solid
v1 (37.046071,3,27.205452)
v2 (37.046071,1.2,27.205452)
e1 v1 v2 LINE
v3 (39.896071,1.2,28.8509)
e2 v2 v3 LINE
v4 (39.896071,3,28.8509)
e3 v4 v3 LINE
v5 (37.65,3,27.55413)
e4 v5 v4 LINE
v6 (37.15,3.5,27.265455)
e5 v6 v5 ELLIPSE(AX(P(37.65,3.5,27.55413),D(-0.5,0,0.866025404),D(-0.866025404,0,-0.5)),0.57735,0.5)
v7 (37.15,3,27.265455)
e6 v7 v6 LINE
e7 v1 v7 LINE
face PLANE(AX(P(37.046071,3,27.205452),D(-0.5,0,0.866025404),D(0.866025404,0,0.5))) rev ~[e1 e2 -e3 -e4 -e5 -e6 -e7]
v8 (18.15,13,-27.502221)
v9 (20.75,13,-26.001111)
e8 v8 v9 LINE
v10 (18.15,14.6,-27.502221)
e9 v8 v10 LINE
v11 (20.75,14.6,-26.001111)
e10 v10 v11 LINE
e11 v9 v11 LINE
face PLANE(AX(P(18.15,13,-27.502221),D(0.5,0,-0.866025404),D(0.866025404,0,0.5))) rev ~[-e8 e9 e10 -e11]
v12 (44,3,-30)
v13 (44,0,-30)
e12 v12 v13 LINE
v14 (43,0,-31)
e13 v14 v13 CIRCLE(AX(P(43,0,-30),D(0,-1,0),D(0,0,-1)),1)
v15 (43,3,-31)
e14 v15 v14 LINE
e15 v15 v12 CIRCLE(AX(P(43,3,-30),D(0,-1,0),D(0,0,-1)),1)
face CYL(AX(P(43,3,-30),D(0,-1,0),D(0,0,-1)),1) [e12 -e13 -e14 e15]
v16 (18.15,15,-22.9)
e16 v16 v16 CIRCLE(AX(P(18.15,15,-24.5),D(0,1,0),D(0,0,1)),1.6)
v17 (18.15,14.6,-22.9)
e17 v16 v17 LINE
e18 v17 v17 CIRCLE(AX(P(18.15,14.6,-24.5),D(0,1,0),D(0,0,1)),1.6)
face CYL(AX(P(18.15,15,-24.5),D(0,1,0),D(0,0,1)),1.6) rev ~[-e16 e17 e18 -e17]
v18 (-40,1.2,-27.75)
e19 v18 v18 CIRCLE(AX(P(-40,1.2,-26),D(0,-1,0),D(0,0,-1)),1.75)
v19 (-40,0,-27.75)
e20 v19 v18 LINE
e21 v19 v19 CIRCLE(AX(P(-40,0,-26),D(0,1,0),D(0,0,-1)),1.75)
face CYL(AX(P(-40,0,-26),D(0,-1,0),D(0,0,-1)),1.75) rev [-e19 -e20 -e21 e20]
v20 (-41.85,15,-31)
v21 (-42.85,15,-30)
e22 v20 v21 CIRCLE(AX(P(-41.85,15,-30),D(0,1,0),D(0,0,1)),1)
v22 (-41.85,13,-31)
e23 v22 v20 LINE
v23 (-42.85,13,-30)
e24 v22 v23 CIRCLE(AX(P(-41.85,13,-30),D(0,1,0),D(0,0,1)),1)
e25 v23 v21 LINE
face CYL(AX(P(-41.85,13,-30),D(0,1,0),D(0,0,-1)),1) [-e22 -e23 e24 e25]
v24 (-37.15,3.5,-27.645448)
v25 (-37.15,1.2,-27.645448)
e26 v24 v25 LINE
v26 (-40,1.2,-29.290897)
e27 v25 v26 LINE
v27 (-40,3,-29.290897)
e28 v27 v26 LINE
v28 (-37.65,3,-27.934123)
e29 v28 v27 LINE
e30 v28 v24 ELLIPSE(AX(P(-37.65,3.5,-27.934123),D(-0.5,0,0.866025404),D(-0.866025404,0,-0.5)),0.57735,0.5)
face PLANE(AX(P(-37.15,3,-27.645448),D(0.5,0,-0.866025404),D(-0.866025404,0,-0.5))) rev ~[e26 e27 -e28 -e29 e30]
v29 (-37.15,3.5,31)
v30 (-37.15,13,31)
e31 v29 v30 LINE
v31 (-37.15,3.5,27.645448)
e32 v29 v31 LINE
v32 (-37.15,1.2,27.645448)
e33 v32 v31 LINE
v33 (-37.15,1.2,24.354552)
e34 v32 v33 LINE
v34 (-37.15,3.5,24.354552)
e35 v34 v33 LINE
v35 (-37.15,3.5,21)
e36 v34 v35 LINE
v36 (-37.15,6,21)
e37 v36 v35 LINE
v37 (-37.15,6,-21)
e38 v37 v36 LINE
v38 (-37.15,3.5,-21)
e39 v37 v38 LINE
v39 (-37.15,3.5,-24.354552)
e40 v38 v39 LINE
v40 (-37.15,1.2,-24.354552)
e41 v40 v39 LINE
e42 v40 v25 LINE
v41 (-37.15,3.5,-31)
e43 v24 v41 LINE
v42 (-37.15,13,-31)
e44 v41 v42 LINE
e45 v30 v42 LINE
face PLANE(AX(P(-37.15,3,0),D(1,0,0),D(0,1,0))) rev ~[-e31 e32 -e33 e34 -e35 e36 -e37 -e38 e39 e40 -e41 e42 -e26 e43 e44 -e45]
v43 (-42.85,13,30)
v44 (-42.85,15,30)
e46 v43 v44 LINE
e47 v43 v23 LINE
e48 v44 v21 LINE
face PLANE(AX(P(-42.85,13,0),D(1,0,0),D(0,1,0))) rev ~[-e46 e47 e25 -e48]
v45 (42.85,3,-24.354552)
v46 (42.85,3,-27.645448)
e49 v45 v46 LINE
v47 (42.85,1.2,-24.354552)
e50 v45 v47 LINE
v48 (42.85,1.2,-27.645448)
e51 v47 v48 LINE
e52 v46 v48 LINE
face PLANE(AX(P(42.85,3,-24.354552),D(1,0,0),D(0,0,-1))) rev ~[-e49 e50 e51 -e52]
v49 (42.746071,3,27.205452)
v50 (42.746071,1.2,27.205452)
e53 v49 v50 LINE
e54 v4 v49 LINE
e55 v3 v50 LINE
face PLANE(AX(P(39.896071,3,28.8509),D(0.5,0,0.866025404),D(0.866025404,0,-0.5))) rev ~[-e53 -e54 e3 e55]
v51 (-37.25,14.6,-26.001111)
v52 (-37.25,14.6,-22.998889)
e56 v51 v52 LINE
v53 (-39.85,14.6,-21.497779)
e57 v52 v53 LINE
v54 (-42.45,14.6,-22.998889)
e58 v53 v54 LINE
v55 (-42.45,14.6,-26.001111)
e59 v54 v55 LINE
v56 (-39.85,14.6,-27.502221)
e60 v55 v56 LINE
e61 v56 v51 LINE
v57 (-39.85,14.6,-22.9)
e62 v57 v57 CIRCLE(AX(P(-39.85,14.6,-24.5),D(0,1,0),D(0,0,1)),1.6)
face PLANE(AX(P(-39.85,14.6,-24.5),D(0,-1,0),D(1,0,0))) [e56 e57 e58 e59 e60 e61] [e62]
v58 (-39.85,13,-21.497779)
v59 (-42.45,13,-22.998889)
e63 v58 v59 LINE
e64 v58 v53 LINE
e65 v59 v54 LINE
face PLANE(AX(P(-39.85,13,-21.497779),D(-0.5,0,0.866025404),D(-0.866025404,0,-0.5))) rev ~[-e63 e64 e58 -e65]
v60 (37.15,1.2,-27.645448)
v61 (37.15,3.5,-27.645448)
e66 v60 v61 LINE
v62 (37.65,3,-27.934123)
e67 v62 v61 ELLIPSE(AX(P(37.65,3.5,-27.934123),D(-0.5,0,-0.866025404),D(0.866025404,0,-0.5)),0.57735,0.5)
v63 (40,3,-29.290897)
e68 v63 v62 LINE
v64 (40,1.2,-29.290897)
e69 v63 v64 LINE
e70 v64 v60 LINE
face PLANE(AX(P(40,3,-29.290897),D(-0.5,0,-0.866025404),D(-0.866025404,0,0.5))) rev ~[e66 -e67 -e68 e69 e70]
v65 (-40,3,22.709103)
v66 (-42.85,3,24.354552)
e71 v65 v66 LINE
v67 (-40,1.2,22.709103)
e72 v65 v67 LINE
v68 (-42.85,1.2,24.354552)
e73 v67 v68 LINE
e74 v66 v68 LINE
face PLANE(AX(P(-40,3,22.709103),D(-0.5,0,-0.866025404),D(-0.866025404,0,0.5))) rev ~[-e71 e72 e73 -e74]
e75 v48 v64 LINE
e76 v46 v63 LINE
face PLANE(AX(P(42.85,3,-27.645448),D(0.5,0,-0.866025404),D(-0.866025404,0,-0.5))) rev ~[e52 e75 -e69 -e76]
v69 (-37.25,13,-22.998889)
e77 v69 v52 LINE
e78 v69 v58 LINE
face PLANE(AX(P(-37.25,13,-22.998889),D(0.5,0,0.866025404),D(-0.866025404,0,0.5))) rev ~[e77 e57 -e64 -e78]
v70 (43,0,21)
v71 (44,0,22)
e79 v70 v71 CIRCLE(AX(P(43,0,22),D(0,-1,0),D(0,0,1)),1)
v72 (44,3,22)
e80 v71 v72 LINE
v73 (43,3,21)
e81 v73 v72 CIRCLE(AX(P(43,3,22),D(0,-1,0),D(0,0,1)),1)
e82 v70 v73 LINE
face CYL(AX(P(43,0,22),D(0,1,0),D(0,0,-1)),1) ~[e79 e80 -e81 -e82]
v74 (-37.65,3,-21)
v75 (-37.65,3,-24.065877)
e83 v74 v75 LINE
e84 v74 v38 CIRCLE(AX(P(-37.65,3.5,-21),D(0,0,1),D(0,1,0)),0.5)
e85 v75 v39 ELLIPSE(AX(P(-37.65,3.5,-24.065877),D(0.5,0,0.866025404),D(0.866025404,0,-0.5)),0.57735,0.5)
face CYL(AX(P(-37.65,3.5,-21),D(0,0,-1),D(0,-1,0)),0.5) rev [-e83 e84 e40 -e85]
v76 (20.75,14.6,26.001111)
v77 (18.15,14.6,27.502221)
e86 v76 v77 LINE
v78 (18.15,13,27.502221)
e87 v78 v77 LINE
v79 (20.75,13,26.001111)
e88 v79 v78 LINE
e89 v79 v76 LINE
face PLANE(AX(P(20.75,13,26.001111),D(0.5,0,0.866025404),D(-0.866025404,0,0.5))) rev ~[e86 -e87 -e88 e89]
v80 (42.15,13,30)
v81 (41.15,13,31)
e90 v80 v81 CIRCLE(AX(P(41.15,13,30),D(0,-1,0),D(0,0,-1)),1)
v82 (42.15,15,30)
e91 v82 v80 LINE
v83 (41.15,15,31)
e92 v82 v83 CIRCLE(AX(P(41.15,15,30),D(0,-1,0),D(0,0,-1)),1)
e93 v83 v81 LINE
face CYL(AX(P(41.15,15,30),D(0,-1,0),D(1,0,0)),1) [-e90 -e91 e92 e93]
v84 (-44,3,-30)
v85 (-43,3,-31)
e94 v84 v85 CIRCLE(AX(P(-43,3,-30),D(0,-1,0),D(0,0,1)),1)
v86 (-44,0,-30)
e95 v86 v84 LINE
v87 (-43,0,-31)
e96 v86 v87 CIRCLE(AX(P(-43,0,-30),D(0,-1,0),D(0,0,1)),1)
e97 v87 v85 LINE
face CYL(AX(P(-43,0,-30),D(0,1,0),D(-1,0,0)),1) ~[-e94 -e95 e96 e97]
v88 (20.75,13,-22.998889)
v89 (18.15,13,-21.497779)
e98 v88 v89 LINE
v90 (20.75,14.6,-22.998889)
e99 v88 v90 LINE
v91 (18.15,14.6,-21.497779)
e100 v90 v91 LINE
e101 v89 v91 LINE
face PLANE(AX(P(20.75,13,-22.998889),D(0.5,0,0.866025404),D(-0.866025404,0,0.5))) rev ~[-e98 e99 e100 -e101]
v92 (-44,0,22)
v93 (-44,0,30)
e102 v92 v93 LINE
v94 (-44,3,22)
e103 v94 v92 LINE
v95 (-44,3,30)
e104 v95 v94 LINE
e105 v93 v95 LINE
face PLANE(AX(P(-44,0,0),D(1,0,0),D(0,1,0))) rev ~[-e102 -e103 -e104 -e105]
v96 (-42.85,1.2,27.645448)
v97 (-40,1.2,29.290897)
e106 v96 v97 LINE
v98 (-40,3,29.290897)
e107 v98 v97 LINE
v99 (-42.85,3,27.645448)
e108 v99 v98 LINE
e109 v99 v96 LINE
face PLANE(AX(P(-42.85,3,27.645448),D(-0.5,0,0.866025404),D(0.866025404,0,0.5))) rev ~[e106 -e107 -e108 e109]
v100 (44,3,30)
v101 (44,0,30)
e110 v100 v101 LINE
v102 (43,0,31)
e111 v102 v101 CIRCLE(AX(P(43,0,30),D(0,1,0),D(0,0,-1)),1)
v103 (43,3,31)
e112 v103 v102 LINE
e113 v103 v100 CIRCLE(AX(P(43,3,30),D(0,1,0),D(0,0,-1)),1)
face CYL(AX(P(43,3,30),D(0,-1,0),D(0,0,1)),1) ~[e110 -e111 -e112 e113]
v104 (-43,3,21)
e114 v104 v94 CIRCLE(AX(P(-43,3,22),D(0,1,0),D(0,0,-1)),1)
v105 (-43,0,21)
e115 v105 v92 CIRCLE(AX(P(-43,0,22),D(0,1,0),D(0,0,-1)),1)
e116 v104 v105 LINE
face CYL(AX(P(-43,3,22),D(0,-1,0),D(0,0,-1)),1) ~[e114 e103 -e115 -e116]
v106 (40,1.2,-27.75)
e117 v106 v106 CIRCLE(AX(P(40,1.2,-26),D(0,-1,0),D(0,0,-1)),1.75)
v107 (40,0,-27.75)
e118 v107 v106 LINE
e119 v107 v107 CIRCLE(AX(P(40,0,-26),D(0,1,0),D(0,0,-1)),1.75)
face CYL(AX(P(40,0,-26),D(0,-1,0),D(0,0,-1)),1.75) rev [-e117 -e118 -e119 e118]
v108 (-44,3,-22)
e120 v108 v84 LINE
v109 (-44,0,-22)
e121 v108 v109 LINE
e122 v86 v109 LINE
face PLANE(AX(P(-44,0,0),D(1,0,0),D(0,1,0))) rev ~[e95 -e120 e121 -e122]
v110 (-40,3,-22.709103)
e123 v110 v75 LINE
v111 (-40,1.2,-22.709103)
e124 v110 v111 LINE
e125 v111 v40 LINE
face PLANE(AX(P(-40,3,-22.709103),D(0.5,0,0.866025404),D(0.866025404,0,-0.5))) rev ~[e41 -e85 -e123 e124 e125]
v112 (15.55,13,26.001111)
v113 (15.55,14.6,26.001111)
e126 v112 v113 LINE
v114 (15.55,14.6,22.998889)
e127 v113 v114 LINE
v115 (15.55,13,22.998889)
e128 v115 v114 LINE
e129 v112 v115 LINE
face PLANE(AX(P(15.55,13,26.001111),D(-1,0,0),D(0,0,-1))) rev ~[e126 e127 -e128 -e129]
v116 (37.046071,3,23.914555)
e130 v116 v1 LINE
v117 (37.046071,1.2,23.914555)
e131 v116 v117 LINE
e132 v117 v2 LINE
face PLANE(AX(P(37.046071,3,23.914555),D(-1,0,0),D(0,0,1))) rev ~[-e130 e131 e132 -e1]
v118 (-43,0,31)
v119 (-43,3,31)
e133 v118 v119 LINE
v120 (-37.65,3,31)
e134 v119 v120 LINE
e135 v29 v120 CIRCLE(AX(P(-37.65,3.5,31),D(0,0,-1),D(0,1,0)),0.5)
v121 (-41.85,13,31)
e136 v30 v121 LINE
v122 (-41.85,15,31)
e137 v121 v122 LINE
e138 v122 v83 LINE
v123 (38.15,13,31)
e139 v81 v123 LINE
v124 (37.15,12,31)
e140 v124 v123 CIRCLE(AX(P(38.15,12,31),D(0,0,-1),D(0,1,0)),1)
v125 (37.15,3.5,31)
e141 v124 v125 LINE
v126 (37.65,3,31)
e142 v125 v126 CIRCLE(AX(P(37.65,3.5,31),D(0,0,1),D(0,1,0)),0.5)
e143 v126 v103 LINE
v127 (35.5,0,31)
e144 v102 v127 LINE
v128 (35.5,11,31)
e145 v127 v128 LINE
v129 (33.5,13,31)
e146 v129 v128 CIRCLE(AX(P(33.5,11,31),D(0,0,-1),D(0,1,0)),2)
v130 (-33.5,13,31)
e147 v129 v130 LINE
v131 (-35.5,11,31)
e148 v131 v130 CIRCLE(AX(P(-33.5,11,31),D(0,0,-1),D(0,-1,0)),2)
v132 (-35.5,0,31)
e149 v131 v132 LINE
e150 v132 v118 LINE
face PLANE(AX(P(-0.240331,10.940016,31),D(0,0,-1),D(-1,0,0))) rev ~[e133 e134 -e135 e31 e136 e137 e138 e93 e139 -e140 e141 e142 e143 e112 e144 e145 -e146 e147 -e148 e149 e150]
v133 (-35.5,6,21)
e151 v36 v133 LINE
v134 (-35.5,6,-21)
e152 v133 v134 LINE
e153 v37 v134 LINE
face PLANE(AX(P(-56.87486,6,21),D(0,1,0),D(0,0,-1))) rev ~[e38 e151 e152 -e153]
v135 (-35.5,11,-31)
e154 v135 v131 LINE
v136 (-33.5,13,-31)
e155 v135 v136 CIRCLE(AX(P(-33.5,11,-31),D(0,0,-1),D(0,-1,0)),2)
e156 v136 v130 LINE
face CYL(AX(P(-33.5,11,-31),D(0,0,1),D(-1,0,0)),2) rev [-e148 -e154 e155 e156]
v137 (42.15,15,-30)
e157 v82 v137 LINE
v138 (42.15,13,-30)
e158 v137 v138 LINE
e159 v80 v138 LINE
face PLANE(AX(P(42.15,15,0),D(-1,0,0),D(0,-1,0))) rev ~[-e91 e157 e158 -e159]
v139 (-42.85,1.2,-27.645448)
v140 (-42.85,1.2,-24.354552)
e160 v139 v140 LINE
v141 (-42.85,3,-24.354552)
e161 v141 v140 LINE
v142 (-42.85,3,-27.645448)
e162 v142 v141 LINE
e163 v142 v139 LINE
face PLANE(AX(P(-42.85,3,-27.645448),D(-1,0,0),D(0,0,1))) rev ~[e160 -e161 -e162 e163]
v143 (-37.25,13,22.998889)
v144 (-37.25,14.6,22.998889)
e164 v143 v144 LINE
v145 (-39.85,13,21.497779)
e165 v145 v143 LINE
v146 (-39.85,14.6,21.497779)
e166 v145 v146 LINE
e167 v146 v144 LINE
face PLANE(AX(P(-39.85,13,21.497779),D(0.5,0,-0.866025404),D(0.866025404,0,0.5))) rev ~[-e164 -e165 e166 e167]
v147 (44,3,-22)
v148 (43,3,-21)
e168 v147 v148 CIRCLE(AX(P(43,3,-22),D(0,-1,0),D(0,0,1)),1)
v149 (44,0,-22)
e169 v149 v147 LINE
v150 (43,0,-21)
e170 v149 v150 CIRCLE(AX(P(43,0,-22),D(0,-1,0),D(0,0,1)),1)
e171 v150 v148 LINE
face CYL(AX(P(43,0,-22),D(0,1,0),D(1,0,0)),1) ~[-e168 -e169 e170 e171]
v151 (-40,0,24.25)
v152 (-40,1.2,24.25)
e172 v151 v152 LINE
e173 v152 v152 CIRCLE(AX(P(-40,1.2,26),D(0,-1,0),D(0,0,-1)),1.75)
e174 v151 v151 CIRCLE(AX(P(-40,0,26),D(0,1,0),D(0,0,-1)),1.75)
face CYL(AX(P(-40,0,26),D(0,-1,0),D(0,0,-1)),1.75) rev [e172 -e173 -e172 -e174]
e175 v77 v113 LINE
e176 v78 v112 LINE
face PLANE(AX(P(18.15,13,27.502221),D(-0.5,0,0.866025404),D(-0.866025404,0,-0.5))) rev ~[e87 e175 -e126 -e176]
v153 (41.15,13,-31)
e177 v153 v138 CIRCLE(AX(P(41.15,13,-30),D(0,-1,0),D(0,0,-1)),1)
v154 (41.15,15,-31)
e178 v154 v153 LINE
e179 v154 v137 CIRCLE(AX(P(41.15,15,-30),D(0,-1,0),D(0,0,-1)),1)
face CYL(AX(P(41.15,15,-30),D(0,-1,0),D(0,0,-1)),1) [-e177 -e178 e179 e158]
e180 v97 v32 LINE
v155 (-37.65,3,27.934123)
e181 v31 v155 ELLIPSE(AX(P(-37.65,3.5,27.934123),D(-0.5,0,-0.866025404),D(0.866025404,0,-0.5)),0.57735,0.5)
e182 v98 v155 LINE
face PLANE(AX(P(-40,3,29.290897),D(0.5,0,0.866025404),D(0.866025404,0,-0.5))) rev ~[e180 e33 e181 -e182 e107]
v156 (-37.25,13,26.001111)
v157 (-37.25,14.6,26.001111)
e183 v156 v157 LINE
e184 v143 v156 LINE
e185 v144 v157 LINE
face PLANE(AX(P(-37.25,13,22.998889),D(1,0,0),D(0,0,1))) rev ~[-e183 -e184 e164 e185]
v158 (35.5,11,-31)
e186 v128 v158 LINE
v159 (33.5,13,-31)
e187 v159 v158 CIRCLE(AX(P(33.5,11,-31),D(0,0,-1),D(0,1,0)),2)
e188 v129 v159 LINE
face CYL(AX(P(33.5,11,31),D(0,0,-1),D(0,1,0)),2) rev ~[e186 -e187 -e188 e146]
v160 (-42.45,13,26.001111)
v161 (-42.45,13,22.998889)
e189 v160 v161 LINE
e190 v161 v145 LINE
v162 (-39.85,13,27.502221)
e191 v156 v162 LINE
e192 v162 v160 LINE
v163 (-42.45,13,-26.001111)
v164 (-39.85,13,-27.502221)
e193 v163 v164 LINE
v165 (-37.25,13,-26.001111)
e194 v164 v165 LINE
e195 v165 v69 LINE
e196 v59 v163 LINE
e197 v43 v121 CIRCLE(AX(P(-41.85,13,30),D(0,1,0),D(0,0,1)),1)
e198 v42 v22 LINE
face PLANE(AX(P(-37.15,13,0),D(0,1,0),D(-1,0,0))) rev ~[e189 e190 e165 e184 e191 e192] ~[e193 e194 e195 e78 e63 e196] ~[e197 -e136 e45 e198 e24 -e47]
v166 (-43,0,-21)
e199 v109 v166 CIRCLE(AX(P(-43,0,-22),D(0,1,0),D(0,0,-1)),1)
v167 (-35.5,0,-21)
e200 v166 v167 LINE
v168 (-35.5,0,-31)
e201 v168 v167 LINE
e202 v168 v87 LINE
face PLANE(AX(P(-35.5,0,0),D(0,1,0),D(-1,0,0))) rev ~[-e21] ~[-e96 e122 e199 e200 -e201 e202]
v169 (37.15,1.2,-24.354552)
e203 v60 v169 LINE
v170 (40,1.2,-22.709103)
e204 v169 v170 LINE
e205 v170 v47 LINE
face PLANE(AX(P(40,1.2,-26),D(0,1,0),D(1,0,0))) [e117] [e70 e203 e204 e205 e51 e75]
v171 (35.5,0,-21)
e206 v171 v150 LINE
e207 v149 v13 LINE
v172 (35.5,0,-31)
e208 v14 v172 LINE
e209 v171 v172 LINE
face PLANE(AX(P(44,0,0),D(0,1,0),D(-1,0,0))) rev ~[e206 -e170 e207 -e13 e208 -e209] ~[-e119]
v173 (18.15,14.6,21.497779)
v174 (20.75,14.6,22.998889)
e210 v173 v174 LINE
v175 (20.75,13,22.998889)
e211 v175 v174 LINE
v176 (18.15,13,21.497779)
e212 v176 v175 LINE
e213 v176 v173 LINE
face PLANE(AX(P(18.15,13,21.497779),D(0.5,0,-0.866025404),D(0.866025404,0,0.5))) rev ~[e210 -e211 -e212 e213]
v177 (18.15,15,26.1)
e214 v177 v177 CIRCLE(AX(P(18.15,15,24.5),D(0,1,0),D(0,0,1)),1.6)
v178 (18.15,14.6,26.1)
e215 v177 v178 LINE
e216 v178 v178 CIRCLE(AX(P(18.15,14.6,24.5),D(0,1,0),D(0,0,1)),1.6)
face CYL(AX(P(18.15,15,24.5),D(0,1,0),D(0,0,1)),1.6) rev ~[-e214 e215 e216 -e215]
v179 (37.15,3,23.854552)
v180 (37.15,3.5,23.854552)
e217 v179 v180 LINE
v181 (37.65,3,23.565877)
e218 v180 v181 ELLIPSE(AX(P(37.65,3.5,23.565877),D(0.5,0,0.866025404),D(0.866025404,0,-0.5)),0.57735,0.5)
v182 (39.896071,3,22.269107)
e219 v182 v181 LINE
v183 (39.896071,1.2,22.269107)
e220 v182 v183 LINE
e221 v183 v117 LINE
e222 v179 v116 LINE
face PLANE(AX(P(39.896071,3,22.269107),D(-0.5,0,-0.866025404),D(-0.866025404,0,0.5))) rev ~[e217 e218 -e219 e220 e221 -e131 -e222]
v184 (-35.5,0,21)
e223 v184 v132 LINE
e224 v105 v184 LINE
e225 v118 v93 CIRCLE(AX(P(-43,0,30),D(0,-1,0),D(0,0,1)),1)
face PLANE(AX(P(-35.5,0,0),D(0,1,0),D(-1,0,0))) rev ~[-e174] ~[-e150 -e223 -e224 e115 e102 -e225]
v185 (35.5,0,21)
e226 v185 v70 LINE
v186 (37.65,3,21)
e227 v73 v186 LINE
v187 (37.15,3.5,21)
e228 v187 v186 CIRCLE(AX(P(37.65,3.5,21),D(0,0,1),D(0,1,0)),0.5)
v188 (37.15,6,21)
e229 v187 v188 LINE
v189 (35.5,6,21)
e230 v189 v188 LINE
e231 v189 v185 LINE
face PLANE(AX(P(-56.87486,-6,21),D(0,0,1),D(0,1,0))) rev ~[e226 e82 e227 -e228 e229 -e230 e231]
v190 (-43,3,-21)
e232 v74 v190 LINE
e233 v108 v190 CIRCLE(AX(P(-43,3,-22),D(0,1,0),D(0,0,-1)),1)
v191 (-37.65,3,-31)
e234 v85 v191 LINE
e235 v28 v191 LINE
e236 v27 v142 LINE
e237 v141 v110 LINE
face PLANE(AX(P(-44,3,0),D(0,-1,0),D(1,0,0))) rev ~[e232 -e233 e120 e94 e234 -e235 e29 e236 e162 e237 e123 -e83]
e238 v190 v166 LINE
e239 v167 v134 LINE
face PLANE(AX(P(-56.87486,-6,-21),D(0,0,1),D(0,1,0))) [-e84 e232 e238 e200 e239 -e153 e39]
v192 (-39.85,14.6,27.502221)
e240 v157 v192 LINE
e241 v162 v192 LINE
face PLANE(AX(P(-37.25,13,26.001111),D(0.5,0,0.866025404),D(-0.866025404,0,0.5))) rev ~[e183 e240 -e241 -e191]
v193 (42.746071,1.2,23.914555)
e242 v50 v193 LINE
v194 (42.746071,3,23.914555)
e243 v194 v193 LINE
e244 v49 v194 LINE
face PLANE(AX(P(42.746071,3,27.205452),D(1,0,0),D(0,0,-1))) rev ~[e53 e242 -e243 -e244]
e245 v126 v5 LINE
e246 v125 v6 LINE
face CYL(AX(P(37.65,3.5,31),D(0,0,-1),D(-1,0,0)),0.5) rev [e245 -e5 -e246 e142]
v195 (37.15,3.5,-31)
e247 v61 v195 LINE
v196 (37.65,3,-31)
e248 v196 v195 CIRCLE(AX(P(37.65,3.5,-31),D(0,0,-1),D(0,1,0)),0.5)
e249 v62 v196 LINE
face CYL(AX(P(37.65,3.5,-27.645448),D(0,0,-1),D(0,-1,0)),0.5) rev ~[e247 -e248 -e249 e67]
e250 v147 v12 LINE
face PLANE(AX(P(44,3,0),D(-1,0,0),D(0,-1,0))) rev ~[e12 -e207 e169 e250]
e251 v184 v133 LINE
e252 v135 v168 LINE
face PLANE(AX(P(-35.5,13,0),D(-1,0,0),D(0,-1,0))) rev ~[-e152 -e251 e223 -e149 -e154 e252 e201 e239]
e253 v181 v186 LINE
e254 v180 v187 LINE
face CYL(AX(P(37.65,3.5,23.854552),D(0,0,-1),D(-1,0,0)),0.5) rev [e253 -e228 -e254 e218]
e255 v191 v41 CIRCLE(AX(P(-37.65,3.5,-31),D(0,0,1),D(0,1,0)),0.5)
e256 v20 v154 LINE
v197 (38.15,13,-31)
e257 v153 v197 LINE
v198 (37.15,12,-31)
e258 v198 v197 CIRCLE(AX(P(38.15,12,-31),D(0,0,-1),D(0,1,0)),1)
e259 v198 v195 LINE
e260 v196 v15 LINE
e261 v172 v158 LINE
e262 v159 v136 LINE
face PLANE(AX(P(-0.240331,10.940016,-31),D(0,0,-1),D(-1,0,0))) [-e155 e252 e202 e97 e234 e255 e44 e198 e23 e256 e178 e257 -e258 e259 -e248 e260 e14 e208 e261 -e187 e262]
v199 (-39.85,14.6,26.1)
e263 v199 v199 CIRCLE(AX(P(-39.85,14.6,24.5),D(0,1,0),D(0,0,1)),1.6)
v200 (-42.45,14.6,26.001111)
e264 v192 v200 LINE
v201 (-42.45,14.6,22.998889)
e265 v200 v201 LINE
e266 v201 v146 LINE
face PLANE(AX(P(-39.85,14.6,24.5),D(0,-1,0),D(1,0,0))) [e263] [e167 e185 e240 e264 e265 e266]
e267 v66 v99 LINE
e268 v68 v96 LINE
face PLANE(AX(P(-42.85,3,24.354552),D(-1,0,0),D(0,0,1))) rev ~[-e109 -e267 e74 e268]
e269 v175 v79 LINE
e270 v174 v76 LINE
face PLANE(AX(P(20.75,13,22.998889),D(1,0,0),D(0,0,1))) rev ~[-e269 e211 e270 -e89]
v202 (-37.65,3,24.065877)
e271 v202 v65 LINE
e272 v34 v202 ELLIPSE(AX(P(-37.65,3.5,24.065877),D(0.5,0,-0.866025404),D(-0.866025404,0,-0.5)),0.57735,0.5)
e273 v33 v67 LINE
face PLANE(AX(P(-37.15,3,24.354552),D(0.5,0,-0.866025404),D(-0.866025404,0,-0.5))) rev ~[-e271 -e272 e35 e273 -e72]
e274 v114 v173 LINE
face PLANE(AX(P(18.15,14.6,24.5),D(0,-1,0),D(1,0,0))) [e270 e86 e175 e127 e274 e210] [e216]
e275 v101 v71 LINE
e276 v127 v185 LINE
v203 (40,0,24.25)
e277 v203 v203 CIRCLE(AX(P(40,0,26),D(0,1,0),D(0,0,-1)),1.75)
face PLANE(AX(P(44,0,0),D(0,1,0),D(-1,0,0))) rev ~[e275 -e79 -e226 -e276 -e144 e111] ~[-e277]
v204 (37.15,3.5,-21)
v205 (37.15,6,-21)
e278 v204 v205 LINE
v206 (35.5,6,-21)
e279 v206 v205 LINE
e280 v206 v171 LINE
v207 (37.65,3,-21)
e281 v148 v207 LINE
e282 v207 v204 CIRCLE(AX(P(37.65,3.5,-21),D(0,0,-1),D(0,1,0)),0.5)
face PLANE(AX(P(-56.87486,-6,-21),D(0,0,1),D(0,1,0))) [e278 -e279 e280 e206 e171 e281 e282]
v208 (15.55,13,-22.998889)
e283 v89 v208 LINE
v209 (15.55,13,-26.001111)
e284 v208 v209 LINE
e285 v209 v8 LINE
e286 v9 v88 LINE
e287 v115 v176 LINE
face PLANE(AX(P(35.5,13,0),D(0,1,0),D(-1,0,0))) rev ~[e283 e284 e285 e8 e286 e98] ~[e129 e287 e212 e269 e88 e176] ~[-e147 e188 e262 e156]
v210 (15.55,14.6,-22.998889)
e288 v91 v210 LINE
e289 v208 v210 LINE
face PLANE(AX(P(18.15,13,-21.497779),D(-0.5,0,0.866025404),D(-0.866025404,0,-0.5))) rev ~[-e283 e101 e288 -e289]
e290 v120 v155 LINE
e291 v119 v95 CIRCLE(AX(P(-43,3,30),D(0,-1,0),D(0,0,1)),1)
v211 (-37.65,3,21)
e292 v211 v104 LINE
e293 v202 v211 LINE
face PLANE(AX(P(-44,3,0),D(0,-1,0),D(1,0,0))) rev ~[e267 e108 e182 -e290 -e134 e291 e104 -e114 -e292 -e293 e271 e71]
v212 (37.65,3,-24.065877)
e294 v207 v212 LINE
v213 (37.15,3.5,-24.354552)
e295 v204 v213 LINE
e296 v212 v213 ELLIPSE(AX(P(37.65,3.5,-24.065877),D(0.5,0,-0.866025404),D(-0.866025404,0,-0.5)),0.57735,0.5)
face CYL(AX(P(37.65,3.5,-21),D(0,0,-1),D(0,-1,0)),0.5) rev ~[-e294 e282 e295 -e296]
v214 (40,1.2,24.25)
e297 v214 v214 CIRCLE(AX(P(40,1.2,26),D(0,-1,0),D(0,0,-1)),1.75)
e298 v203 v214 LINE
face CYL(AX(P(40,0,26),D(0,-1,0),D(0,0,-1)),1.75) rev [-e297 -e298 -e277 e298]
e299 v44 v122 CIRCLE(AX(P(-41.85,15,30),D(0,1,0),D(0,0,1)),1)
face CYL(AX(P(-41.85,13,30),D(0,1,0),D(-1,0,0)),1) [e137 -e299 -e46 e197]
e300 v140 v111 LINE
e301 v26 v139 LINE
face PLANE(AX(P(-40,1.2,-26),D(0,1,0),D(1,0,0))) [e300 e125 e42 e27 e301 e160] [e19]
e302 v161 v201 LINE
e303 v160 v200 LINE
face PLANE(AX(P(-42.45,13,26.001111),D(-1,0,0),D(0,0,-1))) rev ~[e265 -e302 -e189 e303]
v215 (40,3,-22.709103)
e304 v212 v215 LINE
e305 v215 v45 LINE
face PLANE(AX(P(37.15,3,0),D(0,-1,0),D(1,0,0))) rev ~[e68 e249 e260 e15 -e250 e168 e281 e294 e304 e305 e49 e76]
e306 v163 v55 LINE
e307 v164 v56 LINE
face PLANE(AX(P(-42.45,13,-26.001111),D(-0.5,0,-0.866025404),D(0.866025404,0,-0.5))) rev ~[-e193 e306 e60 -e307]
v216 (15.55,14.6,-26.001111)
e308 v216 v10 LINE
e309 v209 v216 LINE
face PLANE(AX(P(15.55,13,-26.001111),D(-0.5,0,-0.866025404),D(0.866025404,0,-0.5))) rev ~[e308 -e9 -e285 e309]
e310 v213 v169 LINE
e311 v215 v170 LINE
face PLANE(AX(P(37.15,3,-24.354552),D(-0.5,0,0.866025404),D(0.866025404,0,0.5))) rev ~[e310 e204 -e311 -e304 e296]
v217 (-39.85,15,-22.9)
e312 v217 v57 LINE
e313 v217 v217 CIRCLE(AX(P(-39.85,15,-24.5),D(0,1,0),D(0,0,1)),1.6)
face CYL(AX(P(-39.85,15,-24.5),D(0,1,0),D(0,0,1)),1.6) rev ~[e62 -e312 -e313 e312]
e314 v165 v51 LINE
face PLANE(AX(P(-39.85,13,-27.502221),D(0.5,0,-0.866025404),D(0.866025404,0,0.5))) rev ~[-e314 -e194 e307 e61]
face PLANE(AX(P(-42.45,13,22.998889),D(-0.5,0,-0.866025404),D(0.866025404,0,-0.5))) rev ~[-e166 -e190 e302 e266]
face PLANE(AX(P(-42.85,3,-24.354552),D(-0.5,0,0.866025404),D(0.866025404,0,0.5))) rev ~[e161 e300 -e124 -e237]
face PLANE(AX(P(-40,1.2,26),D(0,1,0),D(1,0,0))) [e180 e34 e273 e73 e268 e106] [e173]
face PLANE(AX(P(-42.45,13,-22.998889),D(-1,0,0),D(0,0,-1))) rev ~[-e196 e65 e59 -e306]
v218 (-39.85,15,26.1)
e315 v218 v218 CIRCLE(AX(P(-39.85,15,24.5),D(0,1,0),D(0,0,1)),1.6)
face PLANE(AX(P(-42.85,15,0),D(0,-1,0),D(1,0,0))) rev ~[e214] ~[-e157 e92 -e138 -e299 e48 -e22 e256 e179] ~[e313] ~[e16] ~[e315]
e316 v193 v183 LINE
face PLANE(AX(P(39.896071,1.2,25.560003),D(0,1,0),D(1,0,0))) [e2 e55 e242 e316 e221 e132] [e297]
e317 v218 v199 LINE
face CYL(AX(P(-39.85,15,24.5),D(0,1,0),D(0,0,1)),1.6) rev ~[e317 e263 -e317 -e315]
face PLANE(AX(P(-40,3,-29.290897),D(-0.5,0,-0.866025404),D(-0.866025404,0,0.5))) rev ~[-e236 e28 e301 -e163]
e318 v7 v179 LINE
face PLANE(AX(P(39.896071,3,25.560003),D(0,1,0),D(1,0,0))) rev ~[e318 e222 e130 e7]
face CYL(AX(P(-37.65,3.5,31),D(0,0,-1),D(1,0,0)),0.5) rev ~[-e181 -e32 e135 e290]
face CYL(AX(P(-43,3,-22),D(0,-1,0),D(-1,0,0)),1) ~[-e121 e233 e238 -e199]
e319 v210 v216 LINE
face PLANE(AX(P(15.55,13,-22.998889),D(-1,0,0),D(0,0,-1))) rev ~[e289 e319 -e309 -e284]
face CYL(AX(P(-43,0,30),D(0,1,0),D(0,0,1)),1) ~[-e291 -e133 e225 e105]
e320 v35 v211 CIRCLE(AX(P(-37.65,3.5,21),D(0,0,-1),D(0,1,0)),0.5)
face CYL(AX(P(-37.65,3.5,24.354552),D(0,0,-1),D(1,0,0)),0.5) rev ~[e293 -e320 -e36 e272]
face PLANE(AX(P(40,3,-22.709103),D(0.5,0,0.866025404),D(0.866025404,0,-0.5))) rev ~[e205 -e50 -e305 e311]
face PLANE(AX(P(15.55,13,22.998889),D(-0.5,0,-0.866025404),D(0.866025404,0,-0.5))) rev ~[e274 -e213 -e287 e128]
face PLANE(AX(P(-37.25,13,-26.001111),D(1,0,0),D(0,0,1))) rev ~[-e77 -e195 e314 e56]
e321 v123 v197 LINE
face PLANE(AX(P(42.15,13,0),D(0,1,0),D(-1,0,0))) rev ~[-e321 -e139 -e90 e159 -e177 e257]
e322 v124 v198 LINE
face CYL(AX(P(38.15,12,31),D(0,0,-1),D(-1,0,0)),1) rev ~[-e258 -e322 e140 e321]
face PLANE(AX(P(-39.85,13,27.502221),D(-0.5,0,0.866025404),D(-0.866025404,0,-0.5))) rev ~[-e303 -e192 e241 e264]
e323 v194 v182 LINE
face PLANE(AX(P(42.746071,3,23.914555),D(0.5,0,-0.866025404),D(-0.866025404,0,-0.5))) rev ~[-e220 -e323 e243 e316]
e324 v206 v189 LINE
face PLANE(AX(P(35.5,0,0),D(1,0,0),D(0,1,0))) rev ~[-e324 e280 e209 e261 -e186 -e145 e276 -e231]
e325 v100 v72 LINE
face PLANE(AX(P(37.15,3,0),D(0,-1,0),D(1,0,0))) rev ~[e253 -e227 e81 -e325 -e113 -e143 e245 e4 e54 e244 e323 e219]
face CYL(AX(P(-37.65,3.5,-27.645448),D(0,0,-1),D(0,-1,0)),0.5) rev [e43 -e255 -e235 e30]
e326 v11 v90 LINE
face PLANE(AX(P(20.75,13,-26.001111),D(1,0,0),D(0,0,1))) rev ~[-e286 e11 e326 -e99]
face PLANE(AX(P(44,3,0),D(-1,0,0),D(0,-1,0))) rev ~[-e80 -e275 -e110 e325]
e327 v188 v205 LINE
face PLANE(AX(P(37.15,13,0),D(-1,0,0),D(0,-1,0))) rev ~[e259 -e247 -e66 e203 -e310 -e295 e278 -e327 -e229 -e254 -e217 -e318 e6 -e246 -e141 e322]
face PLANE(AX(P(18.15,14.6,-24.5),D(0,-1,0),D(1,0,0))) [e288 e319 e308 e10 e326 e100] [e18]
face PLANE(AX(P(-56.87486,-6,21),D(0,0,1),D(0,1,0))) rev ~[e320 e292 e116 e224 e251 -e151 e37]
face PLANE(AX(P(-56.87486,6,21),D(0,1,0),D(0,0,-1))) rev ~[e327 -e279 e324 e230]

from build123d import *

# Parameters (mm, degrees)
EXTRUDE_1_DEPTH          = 31
CUT_EXTRUDE_1_DEPTH      = 56.874860179
CUT_EXTRUDE_1_DEPTH_BACK = 56.874860179
SKETCH_2_W               = 42
SKETCH_2_H               = 12
CUT_EXTRUDE_3_REACH      = 57.875
SKETCH_3_R               = 1.75
SKETCH_5_R               = 1.6
CUT_EXTRUDE_5_DEPTH      = 5
CUT_EXTRUDE_8_DEPTH      = 1.6
FILLET_1_R               = 1
FILLET_7_R               = 2
CUT_EXTRUDE_9_DEPTH      = 1.8
FILLET_5_R               = 0.5
FILLET_8_R               = 1


with BuildPart() as part:
    # 草圖1 → 填料-伸長1 (new, symmetric)
    with BuildSketch(Plane.XY):
        Polygon((-44, 0), (-44, 3), (-37.15, 3), (-37.15, 13), (-42.85, 13), (-42.85, 15), (42.15, 15), (42.15, 13), (37.15, 13), (37.15, 3), (44, 3), (44, 0), (35.5, 0), (35.5, 13), (-35.5, 13), (-35.5, 0), align=None)
    extrude(amount=EXTRUDE_1_DEPTH, both=True)

    # 草圖2 → 除料-伸長1 (cut, two sides: drawn at the far end of the back side and taken through both)
    with BuildSketch(Plane(origin=(0, 0, 0), x_dir=(0, 0, -1), z_dir=(1, 0, 0)).offset(-CUT_EXTRUDE_1_DEPTH_BACK)):
        Rectangle(SKETCH_2_W, SKETCH_2_H)
    extrude(amount=CUT_EXTRUDE_1_DEPTH + CUT_EXTRUDE_1_DEPTH_BACK, mode=Mode.SUBTRACT)

    # 草圖3 → 除料-伸長3 (cut, up to next)
    with BuildSketch(Plane(origin=(0, 0, 0), x_dir=(1, 0, 0), z_dir=(0, 1, 0)), mode=Mode.PRIVATE) as cut_extrude_3_sk1:
        with Locations(Location((-40, 26, 0), (0, 0, 90))):
            Circle(SKETCH_3_R)
    cut_extrude_3_tool1 = extrude(cut_extrude_3_sk1.sketch, amount=CUT_EXTRUDE_3_REACH, mode=Mode.PRIVATE) & part.part
    # 草圖3 → 除料-伸長3 (cut, up to next)
    with BuildSketch(Plane(origin=(0, 0, 0), x_dir=(1, 0, 0), z_dir=(0, 1, 0)), mode=Mode.PRIVATE) as cut_extrude_3_sk2:
        with Locations(Location((40, 26, 0), (0, 0, 90))):
            Circle(SKETCH_3_R)
    cut_extrude_3_tool2 = extrude(cut_extrude_3_sk2.sketch, amount=CUT_EXTRUDE_3_REACH, mode=Mode.PRIVATE) & part.part
    # 草圖3 → 除料-伸長3 (cut, up to next)
    with BuildSketch(Plane(origin=(0, 0, 0), x_dir=(1, 0, 0), z_dir=(0, 1, 0)), mode=Mode.PRIVATE) as cut_extrude_3_sk3:
        with Locations(Location((40, -26, 0), (0, 0, 90))):
            Circle(SKETCH_3_R)
    cut_extrude_3_tool3 = extrude(cut_extrude_3_sk3.sketch, amount=CUT_EXTRUDE_3_REACH, mode=Mode.PRIVATE) & part.part
    # 草圖3 → 除料-伸長3 (cut, up to next)
    with BuildSketch(Plane(origin=(0, 0, 0), x_dir=(1, 0, 0), z_dir=(0, 1, 0)), mode=Mode.PRIVATE) as cut_extrude_3_sk4:
        with Locations(Location((-40, -26, 0), (0, 0, 90))):
            Circle(SKETCH_3_R)
    cut_extrude_3_tool4 = extrude(cut_extrude_3_sk4.sketch, amount=CUT_EXTRUDE_3_REACH, mode=Mode.PRIVATE) & part.part
    add(cut_extrude_3_tool1.solids().sort_by_distance((-40, 0, -26))[0], mode=Mode.SUBTRACT)
    add(cut_extrude_3_tool2.solids().sort_by_distance((40, 0, -26))[0], mode=Mode.SUBTRACT)
    add(cut_extrude_3_tool3.solids().sort_by_distance((40, 0, 26))[0], mode=Mode.SUBTRACT)
    add(cut_extrude_3_tool4.solids().sort_by_distance((-40, 0, 26))[0], mode=Mode.SUBTRACT)

    # 草圖5 → 除料-伸長5 (cut)
    with BuildSketch(Plane(origin=(0, 15, 0), x_dir=(1, 0, 0), z_dir=(0, 1, 0))):
        with Locations(Location((-39.85, 24.5, 0), (0, 0, 270))):
            Circle(SKETCH_5_R)
        with Locations(Location((-39.85, -24.5, 0), (0, 0, 270))):
            Circle(SKETCH_5_R)
        with Locations(Location((18.15, 24.5, 0), (0, 0, 270))):
            Circle(SKETCH_5_R)
        with Locations(Location((18.15, -24.5, 0), (0, 0, 270))):
            Circle(SKETCH_5_R)
    extrude(amount=-CUT_EXTRUDE_5_DEPTH, mode=Mode.SUBTRACT)

    # 草圖17 → 除料-伸長8 (cut)
    with BuildSketch(Plane.XZ.offset(-13)):
        Polygon((20.75, 22.9988893), (20.75, 26.0011107), (18.15, 27.5022214), (15.55, 26.0011107), (15.55, 22.9988893), (18.15, 21.4977786), align=None)
        Polygon((20.75, -26.0011107), (20.75, -22.9988893), (18.15, -21.4977786), (15.55, -22.9988893), (15.55, -26.0011107), (18.15, -27.5022214), align=None)
        Polygon((-39.85, 21.4977786), (-37.25, 22.9988893), (-37.25, 26.0011107), (-39.85, 27.5022214), (-42.45, 26.0011107), (-42.45, 22.9988893), align=None)
        Polygon((-39.85, -27.5022214), (-37.25, -26.0011107), (-37.25, -22.9988893), (-39.85, -21.4977786), (-42.45, -22.9988893), (-42.45, -26.0011107), align=None)
    extrude(amount=-CUT_EXTRUDE_8_DEPTH, mode=Mode.SUBTRACT)

    # 圓角1
    fillet_1_edges = [part.edges().sort_by_distance(p)[0] for p in [
        (-44, 1.5, -31),
        (-42.85, 14, -31),
        (42.15, 14, -31),
        (44, 1.5, -31),
        (44, 1.5, 31),
        (42.15, 14, 31),
        (-44, 1.5, 21),
        (-44, 1.5, -21),
        (-42.85, 14, 31),
        (44, 1.5, -21),
        (44, 1.5, 21),
        (-44, 1.5, 31),
    ]]
    fillet(fillet_1_edges, radius=FILLET_1_R)

    # 圓角7
    fillet_7_edges = [part.edges().sort_by_distance(p)[0] for p in [
        (35.5, 13, 0),
        (-35.5, 13, 0),
    ]]
    fillet(fillet_7_edges, radius=FILLET_7_R)

    # 草圖19 → 除料-伸長9 (cut)
    with BuildSketch(Plane(origin=(0, 3, 0), x_dir=(1, 0, 0), z_dir=(0, 1, 0))):
        Polygon((-40, -29.290896534), (-37.15, -27.645448267), (-37.15, -24.354551733), (-40, -22.709103466), (-42.85, -24.354551733), (-42.85, -27.645448267), align=None)
        Polygon((39.896071136, -28.850899892), (42.746071136, -27.205451625), (42.746071136, -23.91455509), (39.896071136, -22.269106823), (37.046071136, -23.91455509), (37.046071136, -27.205451625), align=None)
        Polygon((42.85, 24.354551733), (42.85, 27.645448267), (40, 29.290896534), (37.15, 27.645448267), (37.15, 24.354551733), (40, 22.709103466), align=None)
        Polygon((-40, 22.709103466), (-37.15, 24.354551733), (-37.15, 27.645448267), (-40, 29.290896534), (-42.85, 27.645448267), (-42.85, 24.354551733), align=None)
    extrude(amount=-CUT_EXTRUDE_9_DEPTH, mode=Mode.SUBTRACT)

    # 圓角5
    fillet_5_edges = [part.edges().sort_by_distance(p)[0] for p in [
        (-37.15, 3, 29.322724134),
        (37.15, 3, 29.132727491),
        (-37.15, 3, 22.677275866),
        (-37.15, 3, -29.322724134),
        (37.15, 3, -29.322724134),
        (37.15, 3, 22.427275866),
        (-37.15, 3, -22.677275866),
        (37.15, 3, -22.677275866),
    ]]
    fillet(fillet_5_edges, radius=FILLET_5_R)

    # 圓角8
    fillet_8_edges = [part.edges().sort_by_distance(p)[0] for p in [
        (37.15, 13, 0),
    ]]
    fillet(fillet_8_edges, radius=FILLET_8_R)


solid = part.part
